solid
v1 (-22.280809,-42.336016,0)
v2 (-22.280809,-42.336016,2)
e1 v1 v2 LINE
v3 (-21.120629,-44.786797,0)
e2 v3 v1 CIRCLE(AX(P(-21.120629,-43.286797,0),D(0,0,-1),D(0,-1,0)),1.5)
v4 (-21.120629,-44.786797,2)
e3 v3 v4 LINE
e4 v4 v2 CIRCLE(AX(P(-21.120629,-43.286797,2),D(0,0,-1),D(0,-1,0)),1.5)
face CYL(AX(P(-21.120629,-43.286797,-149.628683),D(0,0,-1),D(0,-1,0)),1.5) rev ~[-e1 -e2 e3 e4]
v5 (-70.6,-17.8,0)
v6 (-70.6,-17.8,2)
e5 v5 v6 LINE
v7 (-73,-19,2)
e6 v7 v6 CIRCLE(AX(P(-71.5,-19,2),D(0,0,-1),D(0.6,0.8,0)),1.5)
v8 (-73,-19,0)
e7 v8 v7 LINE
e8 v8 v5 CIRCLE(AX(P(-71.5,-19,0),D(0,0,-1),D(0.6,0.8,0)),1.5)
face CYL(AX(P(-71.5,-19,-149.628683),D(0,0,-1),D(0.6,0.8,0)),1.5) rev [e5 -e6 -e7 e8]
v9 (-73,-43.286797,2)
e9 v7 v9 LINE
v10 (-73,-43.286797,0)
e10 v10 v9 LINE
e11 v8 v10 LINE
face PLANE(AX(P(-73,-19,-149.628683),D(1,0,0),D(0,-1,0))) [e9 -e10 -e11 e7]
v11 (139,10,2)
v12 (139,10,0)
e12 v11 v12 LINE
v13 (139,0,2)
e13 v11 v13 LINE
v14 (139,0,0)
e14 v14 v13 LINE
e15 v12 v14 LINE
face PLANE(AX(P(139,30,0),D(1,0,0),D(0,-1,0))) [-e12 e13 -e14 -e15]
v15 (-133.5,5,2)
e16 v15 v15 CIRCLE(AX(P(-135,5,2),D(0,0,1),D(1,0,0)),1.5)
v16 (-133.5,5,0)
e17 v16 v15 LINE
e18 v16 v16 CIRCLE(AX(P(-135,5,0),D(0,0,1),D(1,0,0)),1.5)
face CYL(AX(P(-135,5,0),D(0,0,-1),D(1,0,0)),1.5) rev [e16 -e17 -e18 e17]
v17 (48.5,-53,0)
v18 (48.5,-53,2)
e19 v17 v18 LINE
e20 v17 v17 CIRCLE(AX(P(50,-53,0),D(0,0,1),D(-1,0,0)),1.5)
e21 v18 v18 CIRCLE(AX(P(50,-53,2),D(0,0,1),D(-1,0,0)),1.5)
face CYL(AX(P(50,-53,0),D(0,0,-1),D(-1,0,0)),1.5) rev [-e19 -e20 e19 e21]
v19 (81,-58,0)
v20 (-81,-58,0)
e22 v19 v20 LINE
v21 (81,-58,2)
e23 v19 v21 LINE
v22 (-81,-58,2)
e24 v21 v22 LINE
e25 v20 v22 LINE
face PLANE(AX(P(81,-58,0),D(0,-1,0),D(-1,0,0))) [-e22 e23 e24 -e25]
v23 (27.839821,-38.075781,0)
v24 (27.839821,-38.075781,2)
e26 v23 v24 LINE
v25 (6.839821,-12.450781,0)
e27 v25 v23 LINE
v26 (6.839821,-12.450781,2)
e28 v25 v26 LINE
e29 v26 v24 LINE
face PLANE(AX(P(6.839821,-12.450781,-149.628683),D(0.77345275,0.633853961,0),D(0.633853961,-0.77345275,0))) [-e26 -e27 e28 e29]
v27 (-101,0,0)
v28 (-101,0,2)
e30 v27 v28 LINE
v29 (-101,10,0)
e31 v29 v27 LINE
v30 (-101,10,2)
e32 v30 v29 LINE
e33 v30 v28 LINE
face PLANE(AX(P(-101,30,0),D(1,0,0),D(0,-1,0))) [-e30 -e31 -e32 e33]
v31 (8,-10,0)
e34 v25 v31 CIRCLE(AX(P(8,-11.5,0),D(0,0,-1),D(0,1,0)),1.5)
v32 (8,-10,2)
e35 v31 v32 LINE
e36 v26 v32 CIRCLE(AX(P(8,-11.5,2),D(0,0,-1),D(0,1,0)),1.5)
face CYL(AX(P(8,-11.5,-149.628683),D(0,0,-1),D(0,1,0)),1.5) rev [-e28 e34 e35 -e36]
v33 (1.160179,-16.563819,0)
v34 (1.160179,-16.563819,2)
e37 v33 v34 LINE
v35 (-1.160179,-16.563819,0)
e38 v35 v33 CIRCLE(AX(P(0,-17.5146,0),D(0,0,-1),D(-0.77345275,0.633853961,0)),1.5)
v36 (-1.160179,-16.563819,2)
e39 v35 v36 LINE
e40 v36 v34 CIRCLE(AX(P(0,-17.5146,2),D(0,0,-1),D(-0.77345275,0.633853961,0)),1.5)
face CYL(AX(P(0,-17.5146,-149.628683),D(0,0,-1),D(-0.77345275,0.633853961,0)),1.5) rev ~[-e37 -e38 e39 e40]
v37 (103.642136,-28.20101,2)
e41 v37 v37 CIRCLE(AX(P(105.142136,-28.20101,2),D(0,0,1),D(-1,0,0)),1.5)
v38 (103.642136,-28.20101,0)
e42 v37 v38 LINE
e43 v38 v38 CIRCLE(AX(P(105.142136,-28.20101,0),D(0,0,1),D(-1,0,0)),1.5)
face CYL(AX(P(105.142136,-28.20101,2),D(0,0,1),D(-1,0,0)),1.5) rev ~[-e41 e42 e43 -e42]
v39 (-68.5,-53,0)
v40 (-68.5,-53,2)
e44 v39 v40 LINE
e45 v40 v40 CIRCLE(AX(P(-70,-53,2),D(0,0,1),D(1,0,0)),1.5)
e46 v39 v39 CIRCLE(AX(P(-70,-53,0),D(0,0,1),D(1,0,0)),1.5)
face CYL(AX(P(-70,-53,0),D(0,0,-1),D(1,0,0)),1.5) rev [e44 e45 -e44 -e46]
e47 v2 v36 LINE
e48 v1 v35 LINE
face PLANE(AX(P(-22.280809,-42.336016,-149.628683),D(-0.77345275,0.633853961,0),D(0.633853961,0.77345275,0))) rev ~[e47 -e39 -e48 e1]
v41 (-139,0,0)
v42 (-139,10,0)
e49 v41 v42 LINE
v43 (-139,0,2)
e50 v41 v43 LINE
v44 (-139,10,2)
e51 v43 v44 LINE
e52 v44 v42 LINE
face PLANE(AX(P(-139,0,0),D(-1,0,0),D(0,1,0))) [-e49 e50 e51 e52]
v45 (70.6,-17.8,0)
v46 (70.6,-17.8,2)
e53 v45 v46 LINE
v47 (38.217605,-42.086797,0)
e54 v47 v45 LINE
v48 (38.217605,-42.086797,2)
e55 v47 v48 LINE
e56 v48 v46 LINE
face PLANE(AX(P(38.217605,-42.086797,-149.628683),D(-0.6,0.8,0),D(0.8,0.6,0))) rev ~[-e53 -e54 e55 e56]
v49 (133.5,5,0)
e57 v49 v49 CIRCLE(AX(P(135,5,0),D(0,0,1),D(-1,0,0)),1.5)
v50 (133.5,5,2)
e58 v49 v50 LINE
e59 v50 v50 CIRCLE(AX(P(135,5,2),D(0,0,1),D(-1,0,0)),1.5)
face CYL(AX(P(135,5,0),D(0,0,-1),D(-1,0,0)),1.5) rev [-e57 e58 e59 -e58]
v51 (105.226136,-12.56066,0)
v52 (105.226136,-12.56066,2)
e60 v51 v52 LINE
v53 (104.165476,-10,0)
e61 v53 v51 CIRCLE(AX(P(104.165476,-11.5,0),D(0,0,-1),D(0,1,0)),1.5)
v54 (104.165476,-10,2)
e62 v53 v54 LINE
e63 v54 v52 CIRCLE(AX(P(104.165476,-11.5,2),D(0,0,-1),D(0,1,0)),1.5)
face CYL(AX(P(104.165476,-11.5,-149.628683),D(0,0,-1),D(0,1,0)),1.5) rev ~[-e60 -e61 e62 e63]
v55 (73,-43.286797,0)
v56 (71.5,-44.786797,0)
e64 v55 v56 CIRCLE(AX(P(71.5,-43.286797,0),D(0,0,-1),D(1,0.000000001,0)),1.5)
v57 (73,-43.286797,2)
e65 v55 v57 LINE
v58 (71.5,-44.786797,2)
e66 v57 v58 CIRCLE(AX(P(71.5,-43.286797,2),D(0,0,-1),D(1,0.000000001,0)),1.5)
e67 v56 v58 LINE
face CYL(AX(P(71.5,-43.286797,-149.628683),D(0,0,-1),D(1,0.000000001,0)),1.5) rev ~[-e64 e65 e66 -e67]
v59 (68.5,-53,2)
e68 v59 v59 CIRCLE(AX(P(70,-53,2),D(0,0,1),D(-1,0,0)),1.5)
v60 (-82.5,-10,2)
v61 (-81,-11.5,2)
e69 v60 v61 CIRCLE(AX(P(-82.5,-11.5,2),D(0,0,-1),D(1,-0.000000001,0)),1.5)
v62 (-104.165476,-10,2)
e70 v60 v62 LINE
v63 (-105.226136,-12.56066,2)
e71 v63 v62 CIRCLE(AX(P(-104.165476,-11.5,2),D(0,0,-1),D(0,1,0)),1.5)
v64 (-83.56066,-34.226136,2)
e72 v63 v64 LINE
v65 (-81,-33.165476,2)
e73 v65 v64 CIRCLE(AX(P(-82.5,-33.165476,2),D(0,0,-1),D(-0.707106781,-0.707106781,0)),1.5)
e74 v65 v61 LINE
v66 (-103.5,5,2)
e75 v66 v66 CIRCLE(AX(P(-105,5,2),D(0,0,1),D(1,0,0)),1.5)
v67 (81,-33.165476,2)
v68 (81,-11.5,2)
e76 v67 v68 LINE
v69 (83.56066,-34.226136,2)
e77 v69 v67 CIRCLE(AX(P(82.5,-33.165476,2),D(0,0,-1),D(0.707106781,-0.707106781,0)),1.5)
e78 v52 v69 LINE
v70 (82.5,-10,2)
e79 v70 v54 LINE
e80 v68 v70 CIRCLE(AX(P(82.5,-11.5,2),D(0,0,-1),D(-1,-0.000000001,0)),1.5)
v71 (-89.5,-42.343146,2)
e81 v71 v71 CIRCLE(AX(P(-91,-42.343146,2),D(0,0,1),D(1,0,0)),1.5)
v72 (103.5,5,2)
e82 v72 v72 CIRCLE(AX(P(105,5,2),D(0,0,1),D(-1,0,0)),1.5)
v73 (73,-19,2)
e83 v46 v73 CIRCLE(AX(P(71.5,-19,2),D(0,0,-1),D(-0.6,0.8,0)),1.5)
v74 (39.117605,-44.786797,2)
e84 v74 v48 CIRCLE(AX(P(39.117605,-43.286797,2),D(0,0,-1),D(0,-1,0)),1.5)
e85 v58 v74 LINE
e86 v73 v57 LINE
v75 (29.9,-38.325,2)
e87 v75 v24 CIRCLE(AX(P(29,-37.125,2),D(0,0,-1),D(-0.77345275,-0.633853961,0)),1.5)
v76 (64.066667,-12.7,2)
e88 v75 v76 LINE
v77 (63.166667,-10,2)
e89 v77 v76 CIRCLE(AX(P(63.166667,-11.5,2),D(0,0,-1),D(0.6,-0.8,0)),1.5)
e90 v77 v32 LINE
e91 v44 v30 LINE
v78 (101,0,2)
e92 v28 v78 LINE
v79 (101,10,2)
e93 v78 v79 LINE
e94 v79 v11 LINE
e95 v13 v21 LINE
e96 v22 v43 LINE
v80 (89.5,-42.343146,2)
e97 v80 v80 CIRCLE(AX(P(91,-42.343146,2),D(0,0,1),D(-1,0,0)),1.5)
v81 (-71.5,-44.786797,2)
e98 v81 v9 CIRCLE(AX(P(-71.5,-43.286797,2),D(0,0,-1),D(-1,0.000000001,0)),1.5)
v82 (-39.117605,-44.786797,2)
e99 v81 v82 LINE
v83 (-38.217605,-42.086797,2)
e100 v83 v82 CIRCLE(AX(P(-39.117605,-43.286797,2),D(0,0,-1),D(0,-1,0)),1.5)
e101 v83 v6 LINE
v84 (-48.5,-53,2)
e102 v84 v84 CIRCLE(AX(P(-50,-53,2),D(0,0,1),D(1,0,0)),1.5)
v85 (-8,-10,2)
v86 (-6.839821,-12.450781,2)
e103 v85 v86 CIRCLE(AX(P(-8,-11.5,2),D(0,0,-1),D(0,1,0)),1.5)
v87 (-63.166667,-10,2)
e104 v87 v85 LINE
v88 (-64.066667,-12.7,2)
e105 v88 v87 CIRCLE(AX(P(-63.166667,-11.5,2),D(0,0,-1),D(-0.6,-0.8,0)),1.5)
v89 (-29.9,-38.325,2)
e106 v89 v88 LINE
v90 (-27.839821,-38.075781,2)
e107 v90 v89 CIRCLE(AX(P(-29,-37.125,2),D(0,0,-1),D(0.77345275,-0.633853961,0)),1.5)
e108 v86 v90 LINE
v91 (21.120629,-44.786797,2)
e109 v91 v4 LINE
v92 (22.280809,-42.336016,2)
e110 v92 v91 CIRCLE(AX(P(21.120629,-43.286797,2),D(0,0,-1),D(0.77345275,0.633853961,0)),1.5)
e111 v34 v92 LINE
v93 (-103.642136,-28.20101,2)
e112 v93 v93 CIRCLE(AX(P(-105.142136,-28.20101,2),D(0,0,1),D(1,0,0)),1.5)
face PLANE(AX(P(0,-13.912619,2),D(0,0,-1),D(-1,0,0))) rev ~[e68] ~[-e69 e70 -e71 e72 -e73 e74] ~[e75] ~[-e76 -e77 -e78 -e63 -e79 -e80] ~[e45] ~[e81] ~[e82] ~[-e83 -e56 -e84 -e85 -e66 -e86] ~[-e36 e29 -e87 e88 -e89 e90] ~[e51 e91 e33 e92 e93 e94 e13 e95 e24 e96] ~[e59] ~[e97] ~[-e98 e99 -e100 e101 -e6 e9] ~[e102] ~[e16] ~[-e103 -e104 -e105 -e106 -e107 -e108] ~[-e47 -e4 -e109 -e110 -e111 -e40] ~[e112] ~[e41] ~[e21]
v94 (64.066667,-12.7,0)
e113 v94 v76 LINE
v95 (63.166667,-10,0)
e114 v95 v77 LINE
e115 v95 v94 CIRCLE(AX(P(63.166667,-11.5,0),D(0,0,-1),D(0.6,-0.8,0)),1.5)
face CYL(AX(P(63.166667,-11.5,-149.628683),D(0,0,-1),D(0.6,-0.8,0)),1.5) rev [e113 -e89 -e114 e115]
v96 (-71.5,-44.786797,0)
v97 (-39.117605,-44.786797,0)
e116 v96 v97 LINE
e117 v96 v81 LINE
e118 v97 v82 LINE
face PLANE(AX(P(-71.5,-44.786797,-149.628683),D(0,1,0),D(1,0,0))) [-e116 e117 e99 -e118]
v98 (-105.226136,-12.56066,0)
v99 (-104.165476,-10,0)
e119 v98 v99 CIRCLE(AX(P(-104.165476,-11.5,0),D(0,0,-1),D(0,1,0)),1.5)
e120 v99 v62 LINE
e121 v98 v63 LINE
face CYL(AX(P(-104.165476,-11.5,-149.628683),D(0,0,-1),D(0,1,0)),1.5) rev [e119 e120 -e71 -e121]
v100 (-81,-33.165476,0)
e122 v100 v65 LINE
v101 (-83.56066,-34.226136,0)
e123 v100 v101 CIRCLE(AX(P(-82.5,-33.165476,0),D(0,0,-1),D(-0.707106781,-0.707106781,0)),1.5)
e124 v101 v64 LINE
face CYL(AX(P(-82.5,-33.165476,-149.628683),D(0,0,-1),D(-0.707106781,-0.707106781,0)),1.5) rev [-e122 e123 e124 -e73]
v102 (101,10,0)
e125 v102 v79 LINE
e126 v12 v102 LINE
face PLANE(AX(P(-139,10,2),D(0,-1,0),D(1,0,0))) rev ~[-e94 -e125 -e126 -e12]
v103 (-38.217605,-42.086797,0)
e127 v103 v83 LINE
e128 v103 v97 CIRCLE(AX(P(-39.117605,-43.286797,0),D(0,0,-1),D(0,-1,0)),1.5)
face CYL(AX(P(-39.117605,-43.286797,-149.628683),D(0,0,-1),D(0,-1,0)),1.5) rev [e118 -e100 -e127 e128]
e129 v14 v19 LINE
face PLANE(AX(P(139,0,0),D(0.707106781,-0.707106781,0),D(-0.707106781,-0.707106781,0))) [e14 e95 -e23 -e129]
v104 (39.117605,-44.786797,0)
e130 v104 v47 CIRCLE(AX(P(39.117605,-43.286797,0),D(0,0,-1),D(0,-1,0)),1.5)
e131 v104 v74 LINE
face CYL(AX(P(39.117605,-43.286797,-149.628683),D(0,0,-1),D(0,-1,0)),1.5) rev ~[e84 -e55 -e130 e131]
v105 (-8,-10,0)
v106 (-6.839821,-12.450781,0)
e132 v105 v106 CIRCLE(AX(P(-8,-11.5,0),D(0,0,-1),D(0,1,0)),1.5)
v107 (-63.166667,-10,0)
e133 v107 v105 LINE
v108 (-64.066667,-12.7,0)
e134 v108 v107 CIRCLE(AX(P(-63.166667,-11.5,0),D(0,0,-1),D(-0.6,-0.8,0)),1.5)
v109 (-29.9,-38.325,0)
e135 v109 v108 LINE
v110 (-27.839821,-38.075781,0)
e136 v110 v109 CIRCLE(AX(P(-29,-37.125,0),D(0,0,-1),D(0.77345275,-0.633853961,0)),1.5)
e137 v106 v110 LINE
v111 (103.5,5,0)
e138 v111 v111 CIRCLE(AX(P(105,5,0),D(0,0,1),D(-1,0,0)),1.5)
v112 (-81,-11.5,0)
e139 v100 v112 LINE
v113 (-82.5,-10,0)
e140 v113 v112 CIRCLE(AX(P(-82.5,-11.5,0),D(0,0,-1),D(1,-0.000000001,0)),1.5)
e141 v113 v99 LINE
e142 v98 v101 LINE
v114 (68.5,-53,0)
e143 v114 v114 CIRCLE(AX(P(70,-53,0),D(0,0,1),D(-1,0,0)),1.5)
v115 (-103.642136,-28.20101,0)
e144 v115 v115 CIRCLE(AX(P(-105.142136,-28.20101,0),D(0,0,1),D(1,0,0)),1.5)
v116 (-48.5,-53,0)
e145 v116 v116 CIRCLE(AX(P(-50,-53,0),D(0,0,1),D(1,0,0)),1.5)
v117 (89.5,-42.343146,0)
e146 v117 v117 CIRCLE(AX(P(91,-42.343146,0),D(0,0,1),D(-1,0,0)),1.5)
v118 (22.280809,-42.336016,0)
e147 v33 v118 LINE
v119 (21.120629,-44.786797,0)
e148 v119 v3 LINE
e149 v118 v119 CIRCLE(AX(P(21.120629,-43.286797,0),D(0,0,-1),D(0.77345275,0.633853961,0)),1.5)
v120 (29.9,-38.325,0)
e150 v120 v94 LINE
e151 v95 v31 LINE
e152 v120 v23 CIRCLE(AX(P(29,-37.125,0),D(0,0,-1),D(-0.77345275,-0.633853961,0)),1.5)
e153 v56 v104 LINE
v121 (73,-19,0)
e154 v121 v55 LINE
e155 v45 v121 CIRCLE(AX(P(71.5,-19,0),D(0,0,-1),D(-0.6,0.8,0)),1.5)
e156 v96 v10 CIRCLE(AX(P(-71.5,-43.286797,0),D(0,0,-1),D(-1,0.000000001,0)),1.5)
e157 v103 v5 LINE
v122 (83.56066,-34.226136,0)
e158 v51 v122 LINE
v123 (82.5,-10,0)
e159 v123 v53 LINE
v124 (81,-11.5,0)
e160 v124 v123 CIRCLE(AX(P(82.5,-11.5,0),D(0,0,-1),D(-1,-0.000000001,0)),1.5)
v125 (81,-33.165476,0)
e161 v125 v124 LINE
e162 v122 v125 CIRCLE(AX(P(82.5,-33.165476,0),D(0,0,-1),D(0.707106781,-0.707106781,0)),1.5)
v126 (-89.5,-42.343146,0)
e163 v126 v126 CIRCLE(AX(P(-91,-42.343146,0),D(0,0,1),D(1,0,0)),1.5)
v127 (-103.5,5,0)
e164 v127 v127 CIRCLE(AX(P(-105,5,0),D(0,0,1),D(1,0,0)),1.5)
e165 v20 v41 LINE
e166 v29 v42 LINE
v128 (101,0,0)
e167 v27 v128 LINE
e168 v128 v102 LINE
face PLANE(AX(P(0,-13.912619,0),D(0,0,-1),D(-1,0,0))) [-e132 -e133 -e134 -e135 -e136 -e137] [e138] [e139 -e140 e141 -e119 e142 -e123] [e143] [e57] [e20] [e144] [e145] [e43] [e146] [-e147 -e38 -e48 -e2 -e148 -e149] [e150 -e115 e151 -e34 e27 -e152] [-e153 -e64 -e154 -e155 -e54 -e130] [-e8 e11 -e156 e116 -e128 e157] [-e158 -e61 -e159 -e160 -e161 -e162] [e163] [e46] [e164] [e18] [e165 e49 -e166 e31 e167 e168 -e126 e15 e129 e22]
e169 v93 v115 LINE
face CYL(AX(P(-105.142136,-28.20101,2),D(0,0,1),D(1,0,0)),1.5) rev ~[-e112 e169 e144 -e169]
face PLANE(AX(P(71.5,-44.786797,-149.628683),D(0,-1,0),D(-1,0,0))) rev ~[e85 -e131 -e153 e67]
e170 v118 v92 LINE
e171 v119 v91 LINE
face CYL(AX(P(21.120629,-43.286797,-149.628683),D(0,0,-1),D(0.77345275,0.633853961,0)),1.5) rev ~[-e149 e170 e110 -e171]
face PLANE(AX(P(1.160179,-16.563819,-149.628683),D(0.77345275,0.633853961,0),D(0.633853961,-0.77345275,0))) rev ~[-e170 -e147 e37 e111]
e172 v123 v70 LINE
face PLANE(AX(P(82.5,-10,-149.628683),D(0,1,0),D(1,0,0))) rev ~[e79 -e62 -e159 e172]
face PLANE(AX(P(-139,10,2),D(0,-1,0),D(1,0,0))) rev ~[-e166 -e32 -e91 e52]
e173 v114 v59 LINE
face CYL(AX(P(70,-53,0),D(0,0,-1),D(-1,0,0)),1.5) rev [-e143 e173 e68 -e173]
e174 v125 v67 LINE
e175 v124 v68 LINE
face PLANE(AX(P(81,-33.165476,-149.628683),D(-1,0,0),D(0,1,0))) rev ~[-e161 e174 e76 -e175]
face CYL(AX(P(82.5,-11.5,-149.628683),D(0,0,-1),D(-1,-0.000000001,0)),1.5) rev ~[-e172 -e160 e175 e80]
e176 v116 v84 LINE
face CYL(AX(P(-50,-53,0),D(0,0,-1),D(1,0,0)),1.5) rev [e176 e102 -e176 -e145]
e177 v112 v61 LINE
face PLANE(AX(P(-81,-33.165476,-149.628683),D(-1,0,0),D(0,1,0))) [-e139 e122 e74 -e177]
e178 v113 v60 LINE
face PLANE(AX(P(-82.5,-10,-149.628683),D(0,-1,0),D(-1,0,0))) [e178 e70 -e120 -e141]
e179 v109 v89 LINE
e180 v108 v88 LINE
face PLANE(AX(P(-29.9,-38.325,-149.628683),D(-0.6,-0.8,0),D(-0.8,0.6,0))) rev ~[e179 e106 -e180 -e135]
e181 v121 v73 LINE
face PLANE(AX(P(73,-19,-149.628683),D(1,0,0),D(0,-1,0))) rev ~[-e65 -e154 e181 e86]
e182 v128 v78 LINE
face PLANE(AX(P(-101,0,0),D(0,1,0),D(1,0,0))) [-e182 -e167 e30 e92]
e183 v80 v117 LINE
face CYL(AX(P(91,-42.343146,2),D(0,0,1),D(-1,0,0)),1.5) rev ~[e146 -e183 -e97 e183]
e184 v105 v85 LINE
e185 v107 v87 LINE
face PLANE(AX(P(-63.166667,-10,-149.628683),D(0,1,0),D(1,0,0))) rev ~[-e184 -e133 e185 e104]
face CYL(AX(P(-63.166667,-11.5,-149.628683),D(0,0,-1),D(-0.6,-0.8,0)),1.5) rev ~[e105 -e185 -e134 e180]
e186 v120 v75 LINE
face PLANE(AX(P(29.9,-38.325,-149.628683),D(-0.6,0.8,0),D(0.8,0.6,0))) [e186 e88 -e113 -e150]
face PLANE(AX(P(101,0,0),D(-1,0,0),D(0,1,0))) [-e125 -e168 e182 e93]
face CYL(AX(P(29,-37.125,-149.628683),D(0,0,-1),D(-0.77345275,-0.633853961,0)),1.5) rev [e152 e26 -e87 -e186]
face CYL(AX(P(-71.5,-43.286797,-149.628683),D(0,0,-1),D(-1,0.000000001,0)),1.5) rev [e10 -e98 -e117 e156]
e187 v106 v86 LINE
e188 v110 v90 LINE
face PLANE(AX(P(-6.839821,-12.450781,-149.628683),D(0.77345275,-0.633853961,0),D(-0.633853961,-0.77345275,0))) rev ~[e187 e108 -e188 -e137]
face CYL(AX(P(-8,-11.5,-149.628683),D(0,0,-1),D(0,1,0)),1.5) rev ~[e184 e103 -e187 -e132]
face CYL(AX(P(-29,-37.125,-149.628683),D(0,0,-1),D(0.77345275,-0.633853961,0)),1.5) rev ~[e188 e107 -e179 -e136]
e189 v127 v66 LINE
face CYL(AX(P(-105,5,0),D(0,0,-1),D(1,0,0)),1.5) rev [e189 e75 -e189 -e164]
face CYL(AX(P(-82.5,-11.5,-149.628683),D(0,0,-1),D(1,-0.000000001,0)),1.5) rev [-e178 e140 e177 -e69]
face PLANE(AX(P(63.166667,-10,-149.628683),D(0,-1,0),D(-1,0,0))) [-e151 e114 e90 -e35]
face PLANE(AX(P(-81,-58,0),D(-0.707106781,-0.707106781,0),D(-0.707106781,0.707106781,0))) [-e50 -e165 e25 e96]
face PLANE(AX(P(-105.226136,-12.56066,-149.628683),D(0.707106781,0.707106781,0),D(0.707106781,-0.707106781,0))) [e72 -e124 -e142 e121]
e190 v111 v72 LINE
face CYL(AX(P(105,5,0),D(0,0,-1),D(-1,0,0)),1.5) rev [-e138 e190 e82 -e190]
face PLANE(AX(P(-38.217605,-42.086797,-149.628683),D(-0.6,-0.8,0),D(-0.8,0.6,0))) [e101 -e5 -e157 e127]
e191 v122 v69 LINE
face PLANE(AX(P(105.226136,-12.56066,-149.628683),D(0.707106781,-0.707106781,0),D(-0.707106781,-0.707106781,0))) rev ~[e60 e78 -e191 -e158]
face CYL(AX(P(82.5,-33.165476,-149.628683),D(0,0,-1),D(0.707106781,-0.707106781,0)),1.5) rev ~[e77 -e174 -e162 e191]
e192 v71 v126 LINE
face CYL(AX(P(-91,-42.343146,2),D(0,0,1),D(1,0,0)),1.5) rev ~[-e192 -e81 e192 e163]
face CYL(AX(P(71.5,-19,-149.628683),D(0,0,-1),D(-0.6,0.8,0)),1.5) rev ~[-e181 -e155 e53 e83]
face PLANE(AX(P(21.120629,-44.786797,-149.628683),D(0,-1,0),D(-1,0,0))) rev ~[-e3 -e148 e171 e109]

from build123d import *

# Parameters (mm, degrees)
SKETCH_1_R               = 1.5
EXTRUDE_1_DEPTH          = 2
SKETCH_2_R               = 1.5
CUT_EXTRUDE_1_DEPTH      = 151.628682528
SKETCH_3_W               = 278
SKETCH_3_H               = 20
CUT_EXTRUDE_2_DEPTH      = 151.628682528
CUT_EXTRUDE_3_DEPTH      = 151.628682528
CUT_EXTRUDE_3_DEPTH_BACK = 151.628682528


with BuildPart() as part:
    # 草图1 → 凸台-拉伸1 (new body)
    with BuildSketch(Plane.XY):
        Polygon((-101, 30), (-101, 0), (101, 0), (101, 30), (139, 30), (139, 0), (81, -58), (-81, -58), (-139, 0), (-139, 30), align=None)
        with Locations((-135, 25)):
            Circle(SKETCH_1_R, mode=Mode.SUBTRACT)
        with Locations((-105, 25)):
            Circle(SKETCH_1_R, mode=Mode.SUBTRACT)
        with Locations((-105, 5)):
            Circle(SKETCH_1_R, mode=Mode.SUBTRACT)
        with Locations((-135, 5)):
            Circle(SKETCH_1_R, mode=Mode.SUBTRACT)
        with Locations(Location((135, 5, 0), (0, 0, 180))):
            Circle(SKETCH_1_R, mode=Mode.SUBTRACT)
        with Locations(Location((105, 5, 0), (0, 0, 180))):
            Circle(SKETCH_1_R, mode=Mode.SUBTRACT)
        with Locations(Location((105, 25, 0), (0, 0, 180))):
            Circle(SKETCH_1_R, mode=Mode.SUBTRACT)
        with Locations(Location((135, 25, 0), (0, 0, 180))):
            Circle(SKETCH_1_R, mode=Mode.SUBTRACT)
        with Locations((-70, -53)):
            Circle(SKETCH_1_R, mode=Mode.SUBTRACT)
        with Locations((-50, -53)):
            Circle(SKETCH_1_R, mode=Mode.SUBTRACT)
        with Locations(Location((50, -53, 0), (0, 0, 180))):
            Circle(SKETCH_1_R, mode=Mode.SUBTRACT)
        with Locations(Location((70, -53, 0), (0, 0, 180))):
            Circle(SKETCH_1_R, mode=Mode.SUBTRACT)
    extrude(amount=EXTRUDE_1_DEPTH)

    # 草图2 → 切除-拉伸1 (cut, through all)
    with BuildSketch(Plane.XY.offset(2)):
        with Locations((-105.142135624, -28.201010127)):
            Circle(SKETCH_2_R)
        with Locations((-91, -42.343145751)):
            Circle(SKETCH_2_R)
        with Locations(Location((91, -42.343145751, 0), (0, 0, 180))):
            Circle(SKETCH_2_R)
        with Locations(Location((105.142135624, -28.201010127, 0), (0, 0, 180))):
            Circle(SKETCH_2_R)
    extrude(amount=-CUT_EXTRUDE_1_DEPTH, mode=Mode.SUBTRACT)

    # 草图3 → 切除-拉伸2 (cut, through all)
    with BuildSketch(Plane.XY.offset(2)):
        with Locations((0, 20)):
            Rectangle(SKETCH_3_W, SKETCH_3_H)
    extrude(amount=-CUT_EXTRUDE_2_DEPTH, mode=Mode.SUBTRACT)

    # 草图4 → 切除-拉伸3 (cut, two sides: drawn at the far end of the back side and taken through both)
    with BuildSketch(Plane.XY.offset(2).offset(-CUT_EXTRUDE_3_DEPTH_BACK)):
        with BuildLine():
            Line((-105.226136393, -12.560660172), (-83.560660172, -34.226136393))
            ThreePointArc((-83.560660172, -34.226136393), (-81.925974851, -34.55129552), (-81, -33.165476221))
            Line((-81, -33.165476221), (-81, -11.5))
            ThreePointArc((-81, -11.5), (-81.439339828, -10.439339828), (-82.5, -10))
            Line((-82.5, -10), (-104.165476221, -10))
            ThreePointArc((-104.165476221, -10), (-105.55129552, -10.925974851), (-105.226136393, -12.560660172))
        make_face()
        with BuildLine():
            Line((-73, -19), (-73, -43.286796564))
            ThreePointArc((-73, -43.286796564), (-72.560660172, -44.347456736), (-71.5, -44.786796564))
            Line((-71.5, -44.786796564), (-39.117604581, -44.786796564))
            ThreePointArc((-39.117604581, -44.786796564), (-37.694579634, -43.761138213), (-38.217604581, -42.086796564))
            Line((-38.217604581, -42.086796564), (-70.6, -17.8))
            ThreePointArc((-70.6, -17.8), (-72.170820393, -17.658359214), (-73, -19))
        make_face()
        with BuildLine():
            Line((-63.166666667, -10), (-8, -10))
            ThreePointArc((-8, -10), (-6.644239805, -10.858194505), (-6.839820875, -12.450780941))
            Line((-6.839820875, -12.450780941), (-27.839820875, -38.075780941))
            ThreePointArc((-27.839820875, -38.075780941), (-28.819858864, -38.614143771), (-29.9, -38.325))
            Line((-29.9, -38.325), (-64.066666667, -12.7))
            ThreePointArc((-64.066666667, -12.7), (-64.589691614, -11.025658351), (-63.166666667, -10))
        make_face()
        with BuildLine():
            Line((29.9, -38.325), (64.066666667, -12.7))
            ThreePointArc((64.066666667, -12.7), (64.589691614, -11.025658351), (63.166666667, -10))
            Line((63.166666667, -10), (8, -10))
            ThreePointArc((8, -10), (6.644239805, -10.858194505), (6.839820875, -12.450780941))
            Line((6.839820875, -12.450780941), (27.839820875, -38.075780941))
            ThreePointArc((27.839820875, -38.075780941), (28.819858864, -38.614143771), (29.9, -38.325))
        make_face()
        with BuildLine():
            Line((38.217604581, -42.086796564), (70.6, -17.8))
            ThreePointArc((70.6, -17.8), (72.170820393, -17.658359214), (73, -19))
            Line((73, -19), (73, -43.286796564))
            ThreePointArc((73, -43.286796564), (72.560660172, -44.347456736), (71.5, -44.786796564))
            Line((71.5, -44.786796564), (39.117604581, -44.786796564))
            ThreePointArc((39.117604581, -44.786796564), (37.694579634, -43.761138213), (38.217604581, -42.086796564))
        make_face()
        with BuildLine():
            Line((82.5, -10), (104.165476221, -10))
            ThreePointArc((104.165476221, -10), (105.55129552, -10.925974851), (105.226136393, -12.560660172))
            Line((105.226136393, -12.560660172), (83.560660172, -34.226136393))
            ThreePointArc((83.560660172, -34.226136393), (81.925974851, -34.55129552), (81, -33.165476221))
            Line((81, -33.165476221), (81, -11.5))
            ThreePointArc((81, -11.5), (81.439339828, -10.439339828), (82.5, -10))
        make_face()
        with BuildLine():
            Line((-22.280808546, -42.336015623), (-1.160179125, -16.563819008))
            ThreePointArc((-1.160179125, -16.563819008), (0, -16.014599949), (1.160179125, -16.563819008))
            Line((1.160179125, -16.563819008), (22.280808546, -42.336015623))
            ThreePointArc((22.280808546, -42.336015623), (22.476389616, -43.92860206), (21.120629421, -44.786796564))
            Line((21.120629421, -44.786796564), (-21.120629421, -44.786796564))
            ThreePointArc((-21.120629421, -44.786796564), (-22.476389616, -43.92860206), (-22.280808546, -42.336015623))
        make_face()
    extrude(amount=CUT_EXTRUDE_3_DEPTH + CUT_EXTRUDE_3_DEPTH_BACK, mode=Mode.SUBTRACT)


solid = part.part
